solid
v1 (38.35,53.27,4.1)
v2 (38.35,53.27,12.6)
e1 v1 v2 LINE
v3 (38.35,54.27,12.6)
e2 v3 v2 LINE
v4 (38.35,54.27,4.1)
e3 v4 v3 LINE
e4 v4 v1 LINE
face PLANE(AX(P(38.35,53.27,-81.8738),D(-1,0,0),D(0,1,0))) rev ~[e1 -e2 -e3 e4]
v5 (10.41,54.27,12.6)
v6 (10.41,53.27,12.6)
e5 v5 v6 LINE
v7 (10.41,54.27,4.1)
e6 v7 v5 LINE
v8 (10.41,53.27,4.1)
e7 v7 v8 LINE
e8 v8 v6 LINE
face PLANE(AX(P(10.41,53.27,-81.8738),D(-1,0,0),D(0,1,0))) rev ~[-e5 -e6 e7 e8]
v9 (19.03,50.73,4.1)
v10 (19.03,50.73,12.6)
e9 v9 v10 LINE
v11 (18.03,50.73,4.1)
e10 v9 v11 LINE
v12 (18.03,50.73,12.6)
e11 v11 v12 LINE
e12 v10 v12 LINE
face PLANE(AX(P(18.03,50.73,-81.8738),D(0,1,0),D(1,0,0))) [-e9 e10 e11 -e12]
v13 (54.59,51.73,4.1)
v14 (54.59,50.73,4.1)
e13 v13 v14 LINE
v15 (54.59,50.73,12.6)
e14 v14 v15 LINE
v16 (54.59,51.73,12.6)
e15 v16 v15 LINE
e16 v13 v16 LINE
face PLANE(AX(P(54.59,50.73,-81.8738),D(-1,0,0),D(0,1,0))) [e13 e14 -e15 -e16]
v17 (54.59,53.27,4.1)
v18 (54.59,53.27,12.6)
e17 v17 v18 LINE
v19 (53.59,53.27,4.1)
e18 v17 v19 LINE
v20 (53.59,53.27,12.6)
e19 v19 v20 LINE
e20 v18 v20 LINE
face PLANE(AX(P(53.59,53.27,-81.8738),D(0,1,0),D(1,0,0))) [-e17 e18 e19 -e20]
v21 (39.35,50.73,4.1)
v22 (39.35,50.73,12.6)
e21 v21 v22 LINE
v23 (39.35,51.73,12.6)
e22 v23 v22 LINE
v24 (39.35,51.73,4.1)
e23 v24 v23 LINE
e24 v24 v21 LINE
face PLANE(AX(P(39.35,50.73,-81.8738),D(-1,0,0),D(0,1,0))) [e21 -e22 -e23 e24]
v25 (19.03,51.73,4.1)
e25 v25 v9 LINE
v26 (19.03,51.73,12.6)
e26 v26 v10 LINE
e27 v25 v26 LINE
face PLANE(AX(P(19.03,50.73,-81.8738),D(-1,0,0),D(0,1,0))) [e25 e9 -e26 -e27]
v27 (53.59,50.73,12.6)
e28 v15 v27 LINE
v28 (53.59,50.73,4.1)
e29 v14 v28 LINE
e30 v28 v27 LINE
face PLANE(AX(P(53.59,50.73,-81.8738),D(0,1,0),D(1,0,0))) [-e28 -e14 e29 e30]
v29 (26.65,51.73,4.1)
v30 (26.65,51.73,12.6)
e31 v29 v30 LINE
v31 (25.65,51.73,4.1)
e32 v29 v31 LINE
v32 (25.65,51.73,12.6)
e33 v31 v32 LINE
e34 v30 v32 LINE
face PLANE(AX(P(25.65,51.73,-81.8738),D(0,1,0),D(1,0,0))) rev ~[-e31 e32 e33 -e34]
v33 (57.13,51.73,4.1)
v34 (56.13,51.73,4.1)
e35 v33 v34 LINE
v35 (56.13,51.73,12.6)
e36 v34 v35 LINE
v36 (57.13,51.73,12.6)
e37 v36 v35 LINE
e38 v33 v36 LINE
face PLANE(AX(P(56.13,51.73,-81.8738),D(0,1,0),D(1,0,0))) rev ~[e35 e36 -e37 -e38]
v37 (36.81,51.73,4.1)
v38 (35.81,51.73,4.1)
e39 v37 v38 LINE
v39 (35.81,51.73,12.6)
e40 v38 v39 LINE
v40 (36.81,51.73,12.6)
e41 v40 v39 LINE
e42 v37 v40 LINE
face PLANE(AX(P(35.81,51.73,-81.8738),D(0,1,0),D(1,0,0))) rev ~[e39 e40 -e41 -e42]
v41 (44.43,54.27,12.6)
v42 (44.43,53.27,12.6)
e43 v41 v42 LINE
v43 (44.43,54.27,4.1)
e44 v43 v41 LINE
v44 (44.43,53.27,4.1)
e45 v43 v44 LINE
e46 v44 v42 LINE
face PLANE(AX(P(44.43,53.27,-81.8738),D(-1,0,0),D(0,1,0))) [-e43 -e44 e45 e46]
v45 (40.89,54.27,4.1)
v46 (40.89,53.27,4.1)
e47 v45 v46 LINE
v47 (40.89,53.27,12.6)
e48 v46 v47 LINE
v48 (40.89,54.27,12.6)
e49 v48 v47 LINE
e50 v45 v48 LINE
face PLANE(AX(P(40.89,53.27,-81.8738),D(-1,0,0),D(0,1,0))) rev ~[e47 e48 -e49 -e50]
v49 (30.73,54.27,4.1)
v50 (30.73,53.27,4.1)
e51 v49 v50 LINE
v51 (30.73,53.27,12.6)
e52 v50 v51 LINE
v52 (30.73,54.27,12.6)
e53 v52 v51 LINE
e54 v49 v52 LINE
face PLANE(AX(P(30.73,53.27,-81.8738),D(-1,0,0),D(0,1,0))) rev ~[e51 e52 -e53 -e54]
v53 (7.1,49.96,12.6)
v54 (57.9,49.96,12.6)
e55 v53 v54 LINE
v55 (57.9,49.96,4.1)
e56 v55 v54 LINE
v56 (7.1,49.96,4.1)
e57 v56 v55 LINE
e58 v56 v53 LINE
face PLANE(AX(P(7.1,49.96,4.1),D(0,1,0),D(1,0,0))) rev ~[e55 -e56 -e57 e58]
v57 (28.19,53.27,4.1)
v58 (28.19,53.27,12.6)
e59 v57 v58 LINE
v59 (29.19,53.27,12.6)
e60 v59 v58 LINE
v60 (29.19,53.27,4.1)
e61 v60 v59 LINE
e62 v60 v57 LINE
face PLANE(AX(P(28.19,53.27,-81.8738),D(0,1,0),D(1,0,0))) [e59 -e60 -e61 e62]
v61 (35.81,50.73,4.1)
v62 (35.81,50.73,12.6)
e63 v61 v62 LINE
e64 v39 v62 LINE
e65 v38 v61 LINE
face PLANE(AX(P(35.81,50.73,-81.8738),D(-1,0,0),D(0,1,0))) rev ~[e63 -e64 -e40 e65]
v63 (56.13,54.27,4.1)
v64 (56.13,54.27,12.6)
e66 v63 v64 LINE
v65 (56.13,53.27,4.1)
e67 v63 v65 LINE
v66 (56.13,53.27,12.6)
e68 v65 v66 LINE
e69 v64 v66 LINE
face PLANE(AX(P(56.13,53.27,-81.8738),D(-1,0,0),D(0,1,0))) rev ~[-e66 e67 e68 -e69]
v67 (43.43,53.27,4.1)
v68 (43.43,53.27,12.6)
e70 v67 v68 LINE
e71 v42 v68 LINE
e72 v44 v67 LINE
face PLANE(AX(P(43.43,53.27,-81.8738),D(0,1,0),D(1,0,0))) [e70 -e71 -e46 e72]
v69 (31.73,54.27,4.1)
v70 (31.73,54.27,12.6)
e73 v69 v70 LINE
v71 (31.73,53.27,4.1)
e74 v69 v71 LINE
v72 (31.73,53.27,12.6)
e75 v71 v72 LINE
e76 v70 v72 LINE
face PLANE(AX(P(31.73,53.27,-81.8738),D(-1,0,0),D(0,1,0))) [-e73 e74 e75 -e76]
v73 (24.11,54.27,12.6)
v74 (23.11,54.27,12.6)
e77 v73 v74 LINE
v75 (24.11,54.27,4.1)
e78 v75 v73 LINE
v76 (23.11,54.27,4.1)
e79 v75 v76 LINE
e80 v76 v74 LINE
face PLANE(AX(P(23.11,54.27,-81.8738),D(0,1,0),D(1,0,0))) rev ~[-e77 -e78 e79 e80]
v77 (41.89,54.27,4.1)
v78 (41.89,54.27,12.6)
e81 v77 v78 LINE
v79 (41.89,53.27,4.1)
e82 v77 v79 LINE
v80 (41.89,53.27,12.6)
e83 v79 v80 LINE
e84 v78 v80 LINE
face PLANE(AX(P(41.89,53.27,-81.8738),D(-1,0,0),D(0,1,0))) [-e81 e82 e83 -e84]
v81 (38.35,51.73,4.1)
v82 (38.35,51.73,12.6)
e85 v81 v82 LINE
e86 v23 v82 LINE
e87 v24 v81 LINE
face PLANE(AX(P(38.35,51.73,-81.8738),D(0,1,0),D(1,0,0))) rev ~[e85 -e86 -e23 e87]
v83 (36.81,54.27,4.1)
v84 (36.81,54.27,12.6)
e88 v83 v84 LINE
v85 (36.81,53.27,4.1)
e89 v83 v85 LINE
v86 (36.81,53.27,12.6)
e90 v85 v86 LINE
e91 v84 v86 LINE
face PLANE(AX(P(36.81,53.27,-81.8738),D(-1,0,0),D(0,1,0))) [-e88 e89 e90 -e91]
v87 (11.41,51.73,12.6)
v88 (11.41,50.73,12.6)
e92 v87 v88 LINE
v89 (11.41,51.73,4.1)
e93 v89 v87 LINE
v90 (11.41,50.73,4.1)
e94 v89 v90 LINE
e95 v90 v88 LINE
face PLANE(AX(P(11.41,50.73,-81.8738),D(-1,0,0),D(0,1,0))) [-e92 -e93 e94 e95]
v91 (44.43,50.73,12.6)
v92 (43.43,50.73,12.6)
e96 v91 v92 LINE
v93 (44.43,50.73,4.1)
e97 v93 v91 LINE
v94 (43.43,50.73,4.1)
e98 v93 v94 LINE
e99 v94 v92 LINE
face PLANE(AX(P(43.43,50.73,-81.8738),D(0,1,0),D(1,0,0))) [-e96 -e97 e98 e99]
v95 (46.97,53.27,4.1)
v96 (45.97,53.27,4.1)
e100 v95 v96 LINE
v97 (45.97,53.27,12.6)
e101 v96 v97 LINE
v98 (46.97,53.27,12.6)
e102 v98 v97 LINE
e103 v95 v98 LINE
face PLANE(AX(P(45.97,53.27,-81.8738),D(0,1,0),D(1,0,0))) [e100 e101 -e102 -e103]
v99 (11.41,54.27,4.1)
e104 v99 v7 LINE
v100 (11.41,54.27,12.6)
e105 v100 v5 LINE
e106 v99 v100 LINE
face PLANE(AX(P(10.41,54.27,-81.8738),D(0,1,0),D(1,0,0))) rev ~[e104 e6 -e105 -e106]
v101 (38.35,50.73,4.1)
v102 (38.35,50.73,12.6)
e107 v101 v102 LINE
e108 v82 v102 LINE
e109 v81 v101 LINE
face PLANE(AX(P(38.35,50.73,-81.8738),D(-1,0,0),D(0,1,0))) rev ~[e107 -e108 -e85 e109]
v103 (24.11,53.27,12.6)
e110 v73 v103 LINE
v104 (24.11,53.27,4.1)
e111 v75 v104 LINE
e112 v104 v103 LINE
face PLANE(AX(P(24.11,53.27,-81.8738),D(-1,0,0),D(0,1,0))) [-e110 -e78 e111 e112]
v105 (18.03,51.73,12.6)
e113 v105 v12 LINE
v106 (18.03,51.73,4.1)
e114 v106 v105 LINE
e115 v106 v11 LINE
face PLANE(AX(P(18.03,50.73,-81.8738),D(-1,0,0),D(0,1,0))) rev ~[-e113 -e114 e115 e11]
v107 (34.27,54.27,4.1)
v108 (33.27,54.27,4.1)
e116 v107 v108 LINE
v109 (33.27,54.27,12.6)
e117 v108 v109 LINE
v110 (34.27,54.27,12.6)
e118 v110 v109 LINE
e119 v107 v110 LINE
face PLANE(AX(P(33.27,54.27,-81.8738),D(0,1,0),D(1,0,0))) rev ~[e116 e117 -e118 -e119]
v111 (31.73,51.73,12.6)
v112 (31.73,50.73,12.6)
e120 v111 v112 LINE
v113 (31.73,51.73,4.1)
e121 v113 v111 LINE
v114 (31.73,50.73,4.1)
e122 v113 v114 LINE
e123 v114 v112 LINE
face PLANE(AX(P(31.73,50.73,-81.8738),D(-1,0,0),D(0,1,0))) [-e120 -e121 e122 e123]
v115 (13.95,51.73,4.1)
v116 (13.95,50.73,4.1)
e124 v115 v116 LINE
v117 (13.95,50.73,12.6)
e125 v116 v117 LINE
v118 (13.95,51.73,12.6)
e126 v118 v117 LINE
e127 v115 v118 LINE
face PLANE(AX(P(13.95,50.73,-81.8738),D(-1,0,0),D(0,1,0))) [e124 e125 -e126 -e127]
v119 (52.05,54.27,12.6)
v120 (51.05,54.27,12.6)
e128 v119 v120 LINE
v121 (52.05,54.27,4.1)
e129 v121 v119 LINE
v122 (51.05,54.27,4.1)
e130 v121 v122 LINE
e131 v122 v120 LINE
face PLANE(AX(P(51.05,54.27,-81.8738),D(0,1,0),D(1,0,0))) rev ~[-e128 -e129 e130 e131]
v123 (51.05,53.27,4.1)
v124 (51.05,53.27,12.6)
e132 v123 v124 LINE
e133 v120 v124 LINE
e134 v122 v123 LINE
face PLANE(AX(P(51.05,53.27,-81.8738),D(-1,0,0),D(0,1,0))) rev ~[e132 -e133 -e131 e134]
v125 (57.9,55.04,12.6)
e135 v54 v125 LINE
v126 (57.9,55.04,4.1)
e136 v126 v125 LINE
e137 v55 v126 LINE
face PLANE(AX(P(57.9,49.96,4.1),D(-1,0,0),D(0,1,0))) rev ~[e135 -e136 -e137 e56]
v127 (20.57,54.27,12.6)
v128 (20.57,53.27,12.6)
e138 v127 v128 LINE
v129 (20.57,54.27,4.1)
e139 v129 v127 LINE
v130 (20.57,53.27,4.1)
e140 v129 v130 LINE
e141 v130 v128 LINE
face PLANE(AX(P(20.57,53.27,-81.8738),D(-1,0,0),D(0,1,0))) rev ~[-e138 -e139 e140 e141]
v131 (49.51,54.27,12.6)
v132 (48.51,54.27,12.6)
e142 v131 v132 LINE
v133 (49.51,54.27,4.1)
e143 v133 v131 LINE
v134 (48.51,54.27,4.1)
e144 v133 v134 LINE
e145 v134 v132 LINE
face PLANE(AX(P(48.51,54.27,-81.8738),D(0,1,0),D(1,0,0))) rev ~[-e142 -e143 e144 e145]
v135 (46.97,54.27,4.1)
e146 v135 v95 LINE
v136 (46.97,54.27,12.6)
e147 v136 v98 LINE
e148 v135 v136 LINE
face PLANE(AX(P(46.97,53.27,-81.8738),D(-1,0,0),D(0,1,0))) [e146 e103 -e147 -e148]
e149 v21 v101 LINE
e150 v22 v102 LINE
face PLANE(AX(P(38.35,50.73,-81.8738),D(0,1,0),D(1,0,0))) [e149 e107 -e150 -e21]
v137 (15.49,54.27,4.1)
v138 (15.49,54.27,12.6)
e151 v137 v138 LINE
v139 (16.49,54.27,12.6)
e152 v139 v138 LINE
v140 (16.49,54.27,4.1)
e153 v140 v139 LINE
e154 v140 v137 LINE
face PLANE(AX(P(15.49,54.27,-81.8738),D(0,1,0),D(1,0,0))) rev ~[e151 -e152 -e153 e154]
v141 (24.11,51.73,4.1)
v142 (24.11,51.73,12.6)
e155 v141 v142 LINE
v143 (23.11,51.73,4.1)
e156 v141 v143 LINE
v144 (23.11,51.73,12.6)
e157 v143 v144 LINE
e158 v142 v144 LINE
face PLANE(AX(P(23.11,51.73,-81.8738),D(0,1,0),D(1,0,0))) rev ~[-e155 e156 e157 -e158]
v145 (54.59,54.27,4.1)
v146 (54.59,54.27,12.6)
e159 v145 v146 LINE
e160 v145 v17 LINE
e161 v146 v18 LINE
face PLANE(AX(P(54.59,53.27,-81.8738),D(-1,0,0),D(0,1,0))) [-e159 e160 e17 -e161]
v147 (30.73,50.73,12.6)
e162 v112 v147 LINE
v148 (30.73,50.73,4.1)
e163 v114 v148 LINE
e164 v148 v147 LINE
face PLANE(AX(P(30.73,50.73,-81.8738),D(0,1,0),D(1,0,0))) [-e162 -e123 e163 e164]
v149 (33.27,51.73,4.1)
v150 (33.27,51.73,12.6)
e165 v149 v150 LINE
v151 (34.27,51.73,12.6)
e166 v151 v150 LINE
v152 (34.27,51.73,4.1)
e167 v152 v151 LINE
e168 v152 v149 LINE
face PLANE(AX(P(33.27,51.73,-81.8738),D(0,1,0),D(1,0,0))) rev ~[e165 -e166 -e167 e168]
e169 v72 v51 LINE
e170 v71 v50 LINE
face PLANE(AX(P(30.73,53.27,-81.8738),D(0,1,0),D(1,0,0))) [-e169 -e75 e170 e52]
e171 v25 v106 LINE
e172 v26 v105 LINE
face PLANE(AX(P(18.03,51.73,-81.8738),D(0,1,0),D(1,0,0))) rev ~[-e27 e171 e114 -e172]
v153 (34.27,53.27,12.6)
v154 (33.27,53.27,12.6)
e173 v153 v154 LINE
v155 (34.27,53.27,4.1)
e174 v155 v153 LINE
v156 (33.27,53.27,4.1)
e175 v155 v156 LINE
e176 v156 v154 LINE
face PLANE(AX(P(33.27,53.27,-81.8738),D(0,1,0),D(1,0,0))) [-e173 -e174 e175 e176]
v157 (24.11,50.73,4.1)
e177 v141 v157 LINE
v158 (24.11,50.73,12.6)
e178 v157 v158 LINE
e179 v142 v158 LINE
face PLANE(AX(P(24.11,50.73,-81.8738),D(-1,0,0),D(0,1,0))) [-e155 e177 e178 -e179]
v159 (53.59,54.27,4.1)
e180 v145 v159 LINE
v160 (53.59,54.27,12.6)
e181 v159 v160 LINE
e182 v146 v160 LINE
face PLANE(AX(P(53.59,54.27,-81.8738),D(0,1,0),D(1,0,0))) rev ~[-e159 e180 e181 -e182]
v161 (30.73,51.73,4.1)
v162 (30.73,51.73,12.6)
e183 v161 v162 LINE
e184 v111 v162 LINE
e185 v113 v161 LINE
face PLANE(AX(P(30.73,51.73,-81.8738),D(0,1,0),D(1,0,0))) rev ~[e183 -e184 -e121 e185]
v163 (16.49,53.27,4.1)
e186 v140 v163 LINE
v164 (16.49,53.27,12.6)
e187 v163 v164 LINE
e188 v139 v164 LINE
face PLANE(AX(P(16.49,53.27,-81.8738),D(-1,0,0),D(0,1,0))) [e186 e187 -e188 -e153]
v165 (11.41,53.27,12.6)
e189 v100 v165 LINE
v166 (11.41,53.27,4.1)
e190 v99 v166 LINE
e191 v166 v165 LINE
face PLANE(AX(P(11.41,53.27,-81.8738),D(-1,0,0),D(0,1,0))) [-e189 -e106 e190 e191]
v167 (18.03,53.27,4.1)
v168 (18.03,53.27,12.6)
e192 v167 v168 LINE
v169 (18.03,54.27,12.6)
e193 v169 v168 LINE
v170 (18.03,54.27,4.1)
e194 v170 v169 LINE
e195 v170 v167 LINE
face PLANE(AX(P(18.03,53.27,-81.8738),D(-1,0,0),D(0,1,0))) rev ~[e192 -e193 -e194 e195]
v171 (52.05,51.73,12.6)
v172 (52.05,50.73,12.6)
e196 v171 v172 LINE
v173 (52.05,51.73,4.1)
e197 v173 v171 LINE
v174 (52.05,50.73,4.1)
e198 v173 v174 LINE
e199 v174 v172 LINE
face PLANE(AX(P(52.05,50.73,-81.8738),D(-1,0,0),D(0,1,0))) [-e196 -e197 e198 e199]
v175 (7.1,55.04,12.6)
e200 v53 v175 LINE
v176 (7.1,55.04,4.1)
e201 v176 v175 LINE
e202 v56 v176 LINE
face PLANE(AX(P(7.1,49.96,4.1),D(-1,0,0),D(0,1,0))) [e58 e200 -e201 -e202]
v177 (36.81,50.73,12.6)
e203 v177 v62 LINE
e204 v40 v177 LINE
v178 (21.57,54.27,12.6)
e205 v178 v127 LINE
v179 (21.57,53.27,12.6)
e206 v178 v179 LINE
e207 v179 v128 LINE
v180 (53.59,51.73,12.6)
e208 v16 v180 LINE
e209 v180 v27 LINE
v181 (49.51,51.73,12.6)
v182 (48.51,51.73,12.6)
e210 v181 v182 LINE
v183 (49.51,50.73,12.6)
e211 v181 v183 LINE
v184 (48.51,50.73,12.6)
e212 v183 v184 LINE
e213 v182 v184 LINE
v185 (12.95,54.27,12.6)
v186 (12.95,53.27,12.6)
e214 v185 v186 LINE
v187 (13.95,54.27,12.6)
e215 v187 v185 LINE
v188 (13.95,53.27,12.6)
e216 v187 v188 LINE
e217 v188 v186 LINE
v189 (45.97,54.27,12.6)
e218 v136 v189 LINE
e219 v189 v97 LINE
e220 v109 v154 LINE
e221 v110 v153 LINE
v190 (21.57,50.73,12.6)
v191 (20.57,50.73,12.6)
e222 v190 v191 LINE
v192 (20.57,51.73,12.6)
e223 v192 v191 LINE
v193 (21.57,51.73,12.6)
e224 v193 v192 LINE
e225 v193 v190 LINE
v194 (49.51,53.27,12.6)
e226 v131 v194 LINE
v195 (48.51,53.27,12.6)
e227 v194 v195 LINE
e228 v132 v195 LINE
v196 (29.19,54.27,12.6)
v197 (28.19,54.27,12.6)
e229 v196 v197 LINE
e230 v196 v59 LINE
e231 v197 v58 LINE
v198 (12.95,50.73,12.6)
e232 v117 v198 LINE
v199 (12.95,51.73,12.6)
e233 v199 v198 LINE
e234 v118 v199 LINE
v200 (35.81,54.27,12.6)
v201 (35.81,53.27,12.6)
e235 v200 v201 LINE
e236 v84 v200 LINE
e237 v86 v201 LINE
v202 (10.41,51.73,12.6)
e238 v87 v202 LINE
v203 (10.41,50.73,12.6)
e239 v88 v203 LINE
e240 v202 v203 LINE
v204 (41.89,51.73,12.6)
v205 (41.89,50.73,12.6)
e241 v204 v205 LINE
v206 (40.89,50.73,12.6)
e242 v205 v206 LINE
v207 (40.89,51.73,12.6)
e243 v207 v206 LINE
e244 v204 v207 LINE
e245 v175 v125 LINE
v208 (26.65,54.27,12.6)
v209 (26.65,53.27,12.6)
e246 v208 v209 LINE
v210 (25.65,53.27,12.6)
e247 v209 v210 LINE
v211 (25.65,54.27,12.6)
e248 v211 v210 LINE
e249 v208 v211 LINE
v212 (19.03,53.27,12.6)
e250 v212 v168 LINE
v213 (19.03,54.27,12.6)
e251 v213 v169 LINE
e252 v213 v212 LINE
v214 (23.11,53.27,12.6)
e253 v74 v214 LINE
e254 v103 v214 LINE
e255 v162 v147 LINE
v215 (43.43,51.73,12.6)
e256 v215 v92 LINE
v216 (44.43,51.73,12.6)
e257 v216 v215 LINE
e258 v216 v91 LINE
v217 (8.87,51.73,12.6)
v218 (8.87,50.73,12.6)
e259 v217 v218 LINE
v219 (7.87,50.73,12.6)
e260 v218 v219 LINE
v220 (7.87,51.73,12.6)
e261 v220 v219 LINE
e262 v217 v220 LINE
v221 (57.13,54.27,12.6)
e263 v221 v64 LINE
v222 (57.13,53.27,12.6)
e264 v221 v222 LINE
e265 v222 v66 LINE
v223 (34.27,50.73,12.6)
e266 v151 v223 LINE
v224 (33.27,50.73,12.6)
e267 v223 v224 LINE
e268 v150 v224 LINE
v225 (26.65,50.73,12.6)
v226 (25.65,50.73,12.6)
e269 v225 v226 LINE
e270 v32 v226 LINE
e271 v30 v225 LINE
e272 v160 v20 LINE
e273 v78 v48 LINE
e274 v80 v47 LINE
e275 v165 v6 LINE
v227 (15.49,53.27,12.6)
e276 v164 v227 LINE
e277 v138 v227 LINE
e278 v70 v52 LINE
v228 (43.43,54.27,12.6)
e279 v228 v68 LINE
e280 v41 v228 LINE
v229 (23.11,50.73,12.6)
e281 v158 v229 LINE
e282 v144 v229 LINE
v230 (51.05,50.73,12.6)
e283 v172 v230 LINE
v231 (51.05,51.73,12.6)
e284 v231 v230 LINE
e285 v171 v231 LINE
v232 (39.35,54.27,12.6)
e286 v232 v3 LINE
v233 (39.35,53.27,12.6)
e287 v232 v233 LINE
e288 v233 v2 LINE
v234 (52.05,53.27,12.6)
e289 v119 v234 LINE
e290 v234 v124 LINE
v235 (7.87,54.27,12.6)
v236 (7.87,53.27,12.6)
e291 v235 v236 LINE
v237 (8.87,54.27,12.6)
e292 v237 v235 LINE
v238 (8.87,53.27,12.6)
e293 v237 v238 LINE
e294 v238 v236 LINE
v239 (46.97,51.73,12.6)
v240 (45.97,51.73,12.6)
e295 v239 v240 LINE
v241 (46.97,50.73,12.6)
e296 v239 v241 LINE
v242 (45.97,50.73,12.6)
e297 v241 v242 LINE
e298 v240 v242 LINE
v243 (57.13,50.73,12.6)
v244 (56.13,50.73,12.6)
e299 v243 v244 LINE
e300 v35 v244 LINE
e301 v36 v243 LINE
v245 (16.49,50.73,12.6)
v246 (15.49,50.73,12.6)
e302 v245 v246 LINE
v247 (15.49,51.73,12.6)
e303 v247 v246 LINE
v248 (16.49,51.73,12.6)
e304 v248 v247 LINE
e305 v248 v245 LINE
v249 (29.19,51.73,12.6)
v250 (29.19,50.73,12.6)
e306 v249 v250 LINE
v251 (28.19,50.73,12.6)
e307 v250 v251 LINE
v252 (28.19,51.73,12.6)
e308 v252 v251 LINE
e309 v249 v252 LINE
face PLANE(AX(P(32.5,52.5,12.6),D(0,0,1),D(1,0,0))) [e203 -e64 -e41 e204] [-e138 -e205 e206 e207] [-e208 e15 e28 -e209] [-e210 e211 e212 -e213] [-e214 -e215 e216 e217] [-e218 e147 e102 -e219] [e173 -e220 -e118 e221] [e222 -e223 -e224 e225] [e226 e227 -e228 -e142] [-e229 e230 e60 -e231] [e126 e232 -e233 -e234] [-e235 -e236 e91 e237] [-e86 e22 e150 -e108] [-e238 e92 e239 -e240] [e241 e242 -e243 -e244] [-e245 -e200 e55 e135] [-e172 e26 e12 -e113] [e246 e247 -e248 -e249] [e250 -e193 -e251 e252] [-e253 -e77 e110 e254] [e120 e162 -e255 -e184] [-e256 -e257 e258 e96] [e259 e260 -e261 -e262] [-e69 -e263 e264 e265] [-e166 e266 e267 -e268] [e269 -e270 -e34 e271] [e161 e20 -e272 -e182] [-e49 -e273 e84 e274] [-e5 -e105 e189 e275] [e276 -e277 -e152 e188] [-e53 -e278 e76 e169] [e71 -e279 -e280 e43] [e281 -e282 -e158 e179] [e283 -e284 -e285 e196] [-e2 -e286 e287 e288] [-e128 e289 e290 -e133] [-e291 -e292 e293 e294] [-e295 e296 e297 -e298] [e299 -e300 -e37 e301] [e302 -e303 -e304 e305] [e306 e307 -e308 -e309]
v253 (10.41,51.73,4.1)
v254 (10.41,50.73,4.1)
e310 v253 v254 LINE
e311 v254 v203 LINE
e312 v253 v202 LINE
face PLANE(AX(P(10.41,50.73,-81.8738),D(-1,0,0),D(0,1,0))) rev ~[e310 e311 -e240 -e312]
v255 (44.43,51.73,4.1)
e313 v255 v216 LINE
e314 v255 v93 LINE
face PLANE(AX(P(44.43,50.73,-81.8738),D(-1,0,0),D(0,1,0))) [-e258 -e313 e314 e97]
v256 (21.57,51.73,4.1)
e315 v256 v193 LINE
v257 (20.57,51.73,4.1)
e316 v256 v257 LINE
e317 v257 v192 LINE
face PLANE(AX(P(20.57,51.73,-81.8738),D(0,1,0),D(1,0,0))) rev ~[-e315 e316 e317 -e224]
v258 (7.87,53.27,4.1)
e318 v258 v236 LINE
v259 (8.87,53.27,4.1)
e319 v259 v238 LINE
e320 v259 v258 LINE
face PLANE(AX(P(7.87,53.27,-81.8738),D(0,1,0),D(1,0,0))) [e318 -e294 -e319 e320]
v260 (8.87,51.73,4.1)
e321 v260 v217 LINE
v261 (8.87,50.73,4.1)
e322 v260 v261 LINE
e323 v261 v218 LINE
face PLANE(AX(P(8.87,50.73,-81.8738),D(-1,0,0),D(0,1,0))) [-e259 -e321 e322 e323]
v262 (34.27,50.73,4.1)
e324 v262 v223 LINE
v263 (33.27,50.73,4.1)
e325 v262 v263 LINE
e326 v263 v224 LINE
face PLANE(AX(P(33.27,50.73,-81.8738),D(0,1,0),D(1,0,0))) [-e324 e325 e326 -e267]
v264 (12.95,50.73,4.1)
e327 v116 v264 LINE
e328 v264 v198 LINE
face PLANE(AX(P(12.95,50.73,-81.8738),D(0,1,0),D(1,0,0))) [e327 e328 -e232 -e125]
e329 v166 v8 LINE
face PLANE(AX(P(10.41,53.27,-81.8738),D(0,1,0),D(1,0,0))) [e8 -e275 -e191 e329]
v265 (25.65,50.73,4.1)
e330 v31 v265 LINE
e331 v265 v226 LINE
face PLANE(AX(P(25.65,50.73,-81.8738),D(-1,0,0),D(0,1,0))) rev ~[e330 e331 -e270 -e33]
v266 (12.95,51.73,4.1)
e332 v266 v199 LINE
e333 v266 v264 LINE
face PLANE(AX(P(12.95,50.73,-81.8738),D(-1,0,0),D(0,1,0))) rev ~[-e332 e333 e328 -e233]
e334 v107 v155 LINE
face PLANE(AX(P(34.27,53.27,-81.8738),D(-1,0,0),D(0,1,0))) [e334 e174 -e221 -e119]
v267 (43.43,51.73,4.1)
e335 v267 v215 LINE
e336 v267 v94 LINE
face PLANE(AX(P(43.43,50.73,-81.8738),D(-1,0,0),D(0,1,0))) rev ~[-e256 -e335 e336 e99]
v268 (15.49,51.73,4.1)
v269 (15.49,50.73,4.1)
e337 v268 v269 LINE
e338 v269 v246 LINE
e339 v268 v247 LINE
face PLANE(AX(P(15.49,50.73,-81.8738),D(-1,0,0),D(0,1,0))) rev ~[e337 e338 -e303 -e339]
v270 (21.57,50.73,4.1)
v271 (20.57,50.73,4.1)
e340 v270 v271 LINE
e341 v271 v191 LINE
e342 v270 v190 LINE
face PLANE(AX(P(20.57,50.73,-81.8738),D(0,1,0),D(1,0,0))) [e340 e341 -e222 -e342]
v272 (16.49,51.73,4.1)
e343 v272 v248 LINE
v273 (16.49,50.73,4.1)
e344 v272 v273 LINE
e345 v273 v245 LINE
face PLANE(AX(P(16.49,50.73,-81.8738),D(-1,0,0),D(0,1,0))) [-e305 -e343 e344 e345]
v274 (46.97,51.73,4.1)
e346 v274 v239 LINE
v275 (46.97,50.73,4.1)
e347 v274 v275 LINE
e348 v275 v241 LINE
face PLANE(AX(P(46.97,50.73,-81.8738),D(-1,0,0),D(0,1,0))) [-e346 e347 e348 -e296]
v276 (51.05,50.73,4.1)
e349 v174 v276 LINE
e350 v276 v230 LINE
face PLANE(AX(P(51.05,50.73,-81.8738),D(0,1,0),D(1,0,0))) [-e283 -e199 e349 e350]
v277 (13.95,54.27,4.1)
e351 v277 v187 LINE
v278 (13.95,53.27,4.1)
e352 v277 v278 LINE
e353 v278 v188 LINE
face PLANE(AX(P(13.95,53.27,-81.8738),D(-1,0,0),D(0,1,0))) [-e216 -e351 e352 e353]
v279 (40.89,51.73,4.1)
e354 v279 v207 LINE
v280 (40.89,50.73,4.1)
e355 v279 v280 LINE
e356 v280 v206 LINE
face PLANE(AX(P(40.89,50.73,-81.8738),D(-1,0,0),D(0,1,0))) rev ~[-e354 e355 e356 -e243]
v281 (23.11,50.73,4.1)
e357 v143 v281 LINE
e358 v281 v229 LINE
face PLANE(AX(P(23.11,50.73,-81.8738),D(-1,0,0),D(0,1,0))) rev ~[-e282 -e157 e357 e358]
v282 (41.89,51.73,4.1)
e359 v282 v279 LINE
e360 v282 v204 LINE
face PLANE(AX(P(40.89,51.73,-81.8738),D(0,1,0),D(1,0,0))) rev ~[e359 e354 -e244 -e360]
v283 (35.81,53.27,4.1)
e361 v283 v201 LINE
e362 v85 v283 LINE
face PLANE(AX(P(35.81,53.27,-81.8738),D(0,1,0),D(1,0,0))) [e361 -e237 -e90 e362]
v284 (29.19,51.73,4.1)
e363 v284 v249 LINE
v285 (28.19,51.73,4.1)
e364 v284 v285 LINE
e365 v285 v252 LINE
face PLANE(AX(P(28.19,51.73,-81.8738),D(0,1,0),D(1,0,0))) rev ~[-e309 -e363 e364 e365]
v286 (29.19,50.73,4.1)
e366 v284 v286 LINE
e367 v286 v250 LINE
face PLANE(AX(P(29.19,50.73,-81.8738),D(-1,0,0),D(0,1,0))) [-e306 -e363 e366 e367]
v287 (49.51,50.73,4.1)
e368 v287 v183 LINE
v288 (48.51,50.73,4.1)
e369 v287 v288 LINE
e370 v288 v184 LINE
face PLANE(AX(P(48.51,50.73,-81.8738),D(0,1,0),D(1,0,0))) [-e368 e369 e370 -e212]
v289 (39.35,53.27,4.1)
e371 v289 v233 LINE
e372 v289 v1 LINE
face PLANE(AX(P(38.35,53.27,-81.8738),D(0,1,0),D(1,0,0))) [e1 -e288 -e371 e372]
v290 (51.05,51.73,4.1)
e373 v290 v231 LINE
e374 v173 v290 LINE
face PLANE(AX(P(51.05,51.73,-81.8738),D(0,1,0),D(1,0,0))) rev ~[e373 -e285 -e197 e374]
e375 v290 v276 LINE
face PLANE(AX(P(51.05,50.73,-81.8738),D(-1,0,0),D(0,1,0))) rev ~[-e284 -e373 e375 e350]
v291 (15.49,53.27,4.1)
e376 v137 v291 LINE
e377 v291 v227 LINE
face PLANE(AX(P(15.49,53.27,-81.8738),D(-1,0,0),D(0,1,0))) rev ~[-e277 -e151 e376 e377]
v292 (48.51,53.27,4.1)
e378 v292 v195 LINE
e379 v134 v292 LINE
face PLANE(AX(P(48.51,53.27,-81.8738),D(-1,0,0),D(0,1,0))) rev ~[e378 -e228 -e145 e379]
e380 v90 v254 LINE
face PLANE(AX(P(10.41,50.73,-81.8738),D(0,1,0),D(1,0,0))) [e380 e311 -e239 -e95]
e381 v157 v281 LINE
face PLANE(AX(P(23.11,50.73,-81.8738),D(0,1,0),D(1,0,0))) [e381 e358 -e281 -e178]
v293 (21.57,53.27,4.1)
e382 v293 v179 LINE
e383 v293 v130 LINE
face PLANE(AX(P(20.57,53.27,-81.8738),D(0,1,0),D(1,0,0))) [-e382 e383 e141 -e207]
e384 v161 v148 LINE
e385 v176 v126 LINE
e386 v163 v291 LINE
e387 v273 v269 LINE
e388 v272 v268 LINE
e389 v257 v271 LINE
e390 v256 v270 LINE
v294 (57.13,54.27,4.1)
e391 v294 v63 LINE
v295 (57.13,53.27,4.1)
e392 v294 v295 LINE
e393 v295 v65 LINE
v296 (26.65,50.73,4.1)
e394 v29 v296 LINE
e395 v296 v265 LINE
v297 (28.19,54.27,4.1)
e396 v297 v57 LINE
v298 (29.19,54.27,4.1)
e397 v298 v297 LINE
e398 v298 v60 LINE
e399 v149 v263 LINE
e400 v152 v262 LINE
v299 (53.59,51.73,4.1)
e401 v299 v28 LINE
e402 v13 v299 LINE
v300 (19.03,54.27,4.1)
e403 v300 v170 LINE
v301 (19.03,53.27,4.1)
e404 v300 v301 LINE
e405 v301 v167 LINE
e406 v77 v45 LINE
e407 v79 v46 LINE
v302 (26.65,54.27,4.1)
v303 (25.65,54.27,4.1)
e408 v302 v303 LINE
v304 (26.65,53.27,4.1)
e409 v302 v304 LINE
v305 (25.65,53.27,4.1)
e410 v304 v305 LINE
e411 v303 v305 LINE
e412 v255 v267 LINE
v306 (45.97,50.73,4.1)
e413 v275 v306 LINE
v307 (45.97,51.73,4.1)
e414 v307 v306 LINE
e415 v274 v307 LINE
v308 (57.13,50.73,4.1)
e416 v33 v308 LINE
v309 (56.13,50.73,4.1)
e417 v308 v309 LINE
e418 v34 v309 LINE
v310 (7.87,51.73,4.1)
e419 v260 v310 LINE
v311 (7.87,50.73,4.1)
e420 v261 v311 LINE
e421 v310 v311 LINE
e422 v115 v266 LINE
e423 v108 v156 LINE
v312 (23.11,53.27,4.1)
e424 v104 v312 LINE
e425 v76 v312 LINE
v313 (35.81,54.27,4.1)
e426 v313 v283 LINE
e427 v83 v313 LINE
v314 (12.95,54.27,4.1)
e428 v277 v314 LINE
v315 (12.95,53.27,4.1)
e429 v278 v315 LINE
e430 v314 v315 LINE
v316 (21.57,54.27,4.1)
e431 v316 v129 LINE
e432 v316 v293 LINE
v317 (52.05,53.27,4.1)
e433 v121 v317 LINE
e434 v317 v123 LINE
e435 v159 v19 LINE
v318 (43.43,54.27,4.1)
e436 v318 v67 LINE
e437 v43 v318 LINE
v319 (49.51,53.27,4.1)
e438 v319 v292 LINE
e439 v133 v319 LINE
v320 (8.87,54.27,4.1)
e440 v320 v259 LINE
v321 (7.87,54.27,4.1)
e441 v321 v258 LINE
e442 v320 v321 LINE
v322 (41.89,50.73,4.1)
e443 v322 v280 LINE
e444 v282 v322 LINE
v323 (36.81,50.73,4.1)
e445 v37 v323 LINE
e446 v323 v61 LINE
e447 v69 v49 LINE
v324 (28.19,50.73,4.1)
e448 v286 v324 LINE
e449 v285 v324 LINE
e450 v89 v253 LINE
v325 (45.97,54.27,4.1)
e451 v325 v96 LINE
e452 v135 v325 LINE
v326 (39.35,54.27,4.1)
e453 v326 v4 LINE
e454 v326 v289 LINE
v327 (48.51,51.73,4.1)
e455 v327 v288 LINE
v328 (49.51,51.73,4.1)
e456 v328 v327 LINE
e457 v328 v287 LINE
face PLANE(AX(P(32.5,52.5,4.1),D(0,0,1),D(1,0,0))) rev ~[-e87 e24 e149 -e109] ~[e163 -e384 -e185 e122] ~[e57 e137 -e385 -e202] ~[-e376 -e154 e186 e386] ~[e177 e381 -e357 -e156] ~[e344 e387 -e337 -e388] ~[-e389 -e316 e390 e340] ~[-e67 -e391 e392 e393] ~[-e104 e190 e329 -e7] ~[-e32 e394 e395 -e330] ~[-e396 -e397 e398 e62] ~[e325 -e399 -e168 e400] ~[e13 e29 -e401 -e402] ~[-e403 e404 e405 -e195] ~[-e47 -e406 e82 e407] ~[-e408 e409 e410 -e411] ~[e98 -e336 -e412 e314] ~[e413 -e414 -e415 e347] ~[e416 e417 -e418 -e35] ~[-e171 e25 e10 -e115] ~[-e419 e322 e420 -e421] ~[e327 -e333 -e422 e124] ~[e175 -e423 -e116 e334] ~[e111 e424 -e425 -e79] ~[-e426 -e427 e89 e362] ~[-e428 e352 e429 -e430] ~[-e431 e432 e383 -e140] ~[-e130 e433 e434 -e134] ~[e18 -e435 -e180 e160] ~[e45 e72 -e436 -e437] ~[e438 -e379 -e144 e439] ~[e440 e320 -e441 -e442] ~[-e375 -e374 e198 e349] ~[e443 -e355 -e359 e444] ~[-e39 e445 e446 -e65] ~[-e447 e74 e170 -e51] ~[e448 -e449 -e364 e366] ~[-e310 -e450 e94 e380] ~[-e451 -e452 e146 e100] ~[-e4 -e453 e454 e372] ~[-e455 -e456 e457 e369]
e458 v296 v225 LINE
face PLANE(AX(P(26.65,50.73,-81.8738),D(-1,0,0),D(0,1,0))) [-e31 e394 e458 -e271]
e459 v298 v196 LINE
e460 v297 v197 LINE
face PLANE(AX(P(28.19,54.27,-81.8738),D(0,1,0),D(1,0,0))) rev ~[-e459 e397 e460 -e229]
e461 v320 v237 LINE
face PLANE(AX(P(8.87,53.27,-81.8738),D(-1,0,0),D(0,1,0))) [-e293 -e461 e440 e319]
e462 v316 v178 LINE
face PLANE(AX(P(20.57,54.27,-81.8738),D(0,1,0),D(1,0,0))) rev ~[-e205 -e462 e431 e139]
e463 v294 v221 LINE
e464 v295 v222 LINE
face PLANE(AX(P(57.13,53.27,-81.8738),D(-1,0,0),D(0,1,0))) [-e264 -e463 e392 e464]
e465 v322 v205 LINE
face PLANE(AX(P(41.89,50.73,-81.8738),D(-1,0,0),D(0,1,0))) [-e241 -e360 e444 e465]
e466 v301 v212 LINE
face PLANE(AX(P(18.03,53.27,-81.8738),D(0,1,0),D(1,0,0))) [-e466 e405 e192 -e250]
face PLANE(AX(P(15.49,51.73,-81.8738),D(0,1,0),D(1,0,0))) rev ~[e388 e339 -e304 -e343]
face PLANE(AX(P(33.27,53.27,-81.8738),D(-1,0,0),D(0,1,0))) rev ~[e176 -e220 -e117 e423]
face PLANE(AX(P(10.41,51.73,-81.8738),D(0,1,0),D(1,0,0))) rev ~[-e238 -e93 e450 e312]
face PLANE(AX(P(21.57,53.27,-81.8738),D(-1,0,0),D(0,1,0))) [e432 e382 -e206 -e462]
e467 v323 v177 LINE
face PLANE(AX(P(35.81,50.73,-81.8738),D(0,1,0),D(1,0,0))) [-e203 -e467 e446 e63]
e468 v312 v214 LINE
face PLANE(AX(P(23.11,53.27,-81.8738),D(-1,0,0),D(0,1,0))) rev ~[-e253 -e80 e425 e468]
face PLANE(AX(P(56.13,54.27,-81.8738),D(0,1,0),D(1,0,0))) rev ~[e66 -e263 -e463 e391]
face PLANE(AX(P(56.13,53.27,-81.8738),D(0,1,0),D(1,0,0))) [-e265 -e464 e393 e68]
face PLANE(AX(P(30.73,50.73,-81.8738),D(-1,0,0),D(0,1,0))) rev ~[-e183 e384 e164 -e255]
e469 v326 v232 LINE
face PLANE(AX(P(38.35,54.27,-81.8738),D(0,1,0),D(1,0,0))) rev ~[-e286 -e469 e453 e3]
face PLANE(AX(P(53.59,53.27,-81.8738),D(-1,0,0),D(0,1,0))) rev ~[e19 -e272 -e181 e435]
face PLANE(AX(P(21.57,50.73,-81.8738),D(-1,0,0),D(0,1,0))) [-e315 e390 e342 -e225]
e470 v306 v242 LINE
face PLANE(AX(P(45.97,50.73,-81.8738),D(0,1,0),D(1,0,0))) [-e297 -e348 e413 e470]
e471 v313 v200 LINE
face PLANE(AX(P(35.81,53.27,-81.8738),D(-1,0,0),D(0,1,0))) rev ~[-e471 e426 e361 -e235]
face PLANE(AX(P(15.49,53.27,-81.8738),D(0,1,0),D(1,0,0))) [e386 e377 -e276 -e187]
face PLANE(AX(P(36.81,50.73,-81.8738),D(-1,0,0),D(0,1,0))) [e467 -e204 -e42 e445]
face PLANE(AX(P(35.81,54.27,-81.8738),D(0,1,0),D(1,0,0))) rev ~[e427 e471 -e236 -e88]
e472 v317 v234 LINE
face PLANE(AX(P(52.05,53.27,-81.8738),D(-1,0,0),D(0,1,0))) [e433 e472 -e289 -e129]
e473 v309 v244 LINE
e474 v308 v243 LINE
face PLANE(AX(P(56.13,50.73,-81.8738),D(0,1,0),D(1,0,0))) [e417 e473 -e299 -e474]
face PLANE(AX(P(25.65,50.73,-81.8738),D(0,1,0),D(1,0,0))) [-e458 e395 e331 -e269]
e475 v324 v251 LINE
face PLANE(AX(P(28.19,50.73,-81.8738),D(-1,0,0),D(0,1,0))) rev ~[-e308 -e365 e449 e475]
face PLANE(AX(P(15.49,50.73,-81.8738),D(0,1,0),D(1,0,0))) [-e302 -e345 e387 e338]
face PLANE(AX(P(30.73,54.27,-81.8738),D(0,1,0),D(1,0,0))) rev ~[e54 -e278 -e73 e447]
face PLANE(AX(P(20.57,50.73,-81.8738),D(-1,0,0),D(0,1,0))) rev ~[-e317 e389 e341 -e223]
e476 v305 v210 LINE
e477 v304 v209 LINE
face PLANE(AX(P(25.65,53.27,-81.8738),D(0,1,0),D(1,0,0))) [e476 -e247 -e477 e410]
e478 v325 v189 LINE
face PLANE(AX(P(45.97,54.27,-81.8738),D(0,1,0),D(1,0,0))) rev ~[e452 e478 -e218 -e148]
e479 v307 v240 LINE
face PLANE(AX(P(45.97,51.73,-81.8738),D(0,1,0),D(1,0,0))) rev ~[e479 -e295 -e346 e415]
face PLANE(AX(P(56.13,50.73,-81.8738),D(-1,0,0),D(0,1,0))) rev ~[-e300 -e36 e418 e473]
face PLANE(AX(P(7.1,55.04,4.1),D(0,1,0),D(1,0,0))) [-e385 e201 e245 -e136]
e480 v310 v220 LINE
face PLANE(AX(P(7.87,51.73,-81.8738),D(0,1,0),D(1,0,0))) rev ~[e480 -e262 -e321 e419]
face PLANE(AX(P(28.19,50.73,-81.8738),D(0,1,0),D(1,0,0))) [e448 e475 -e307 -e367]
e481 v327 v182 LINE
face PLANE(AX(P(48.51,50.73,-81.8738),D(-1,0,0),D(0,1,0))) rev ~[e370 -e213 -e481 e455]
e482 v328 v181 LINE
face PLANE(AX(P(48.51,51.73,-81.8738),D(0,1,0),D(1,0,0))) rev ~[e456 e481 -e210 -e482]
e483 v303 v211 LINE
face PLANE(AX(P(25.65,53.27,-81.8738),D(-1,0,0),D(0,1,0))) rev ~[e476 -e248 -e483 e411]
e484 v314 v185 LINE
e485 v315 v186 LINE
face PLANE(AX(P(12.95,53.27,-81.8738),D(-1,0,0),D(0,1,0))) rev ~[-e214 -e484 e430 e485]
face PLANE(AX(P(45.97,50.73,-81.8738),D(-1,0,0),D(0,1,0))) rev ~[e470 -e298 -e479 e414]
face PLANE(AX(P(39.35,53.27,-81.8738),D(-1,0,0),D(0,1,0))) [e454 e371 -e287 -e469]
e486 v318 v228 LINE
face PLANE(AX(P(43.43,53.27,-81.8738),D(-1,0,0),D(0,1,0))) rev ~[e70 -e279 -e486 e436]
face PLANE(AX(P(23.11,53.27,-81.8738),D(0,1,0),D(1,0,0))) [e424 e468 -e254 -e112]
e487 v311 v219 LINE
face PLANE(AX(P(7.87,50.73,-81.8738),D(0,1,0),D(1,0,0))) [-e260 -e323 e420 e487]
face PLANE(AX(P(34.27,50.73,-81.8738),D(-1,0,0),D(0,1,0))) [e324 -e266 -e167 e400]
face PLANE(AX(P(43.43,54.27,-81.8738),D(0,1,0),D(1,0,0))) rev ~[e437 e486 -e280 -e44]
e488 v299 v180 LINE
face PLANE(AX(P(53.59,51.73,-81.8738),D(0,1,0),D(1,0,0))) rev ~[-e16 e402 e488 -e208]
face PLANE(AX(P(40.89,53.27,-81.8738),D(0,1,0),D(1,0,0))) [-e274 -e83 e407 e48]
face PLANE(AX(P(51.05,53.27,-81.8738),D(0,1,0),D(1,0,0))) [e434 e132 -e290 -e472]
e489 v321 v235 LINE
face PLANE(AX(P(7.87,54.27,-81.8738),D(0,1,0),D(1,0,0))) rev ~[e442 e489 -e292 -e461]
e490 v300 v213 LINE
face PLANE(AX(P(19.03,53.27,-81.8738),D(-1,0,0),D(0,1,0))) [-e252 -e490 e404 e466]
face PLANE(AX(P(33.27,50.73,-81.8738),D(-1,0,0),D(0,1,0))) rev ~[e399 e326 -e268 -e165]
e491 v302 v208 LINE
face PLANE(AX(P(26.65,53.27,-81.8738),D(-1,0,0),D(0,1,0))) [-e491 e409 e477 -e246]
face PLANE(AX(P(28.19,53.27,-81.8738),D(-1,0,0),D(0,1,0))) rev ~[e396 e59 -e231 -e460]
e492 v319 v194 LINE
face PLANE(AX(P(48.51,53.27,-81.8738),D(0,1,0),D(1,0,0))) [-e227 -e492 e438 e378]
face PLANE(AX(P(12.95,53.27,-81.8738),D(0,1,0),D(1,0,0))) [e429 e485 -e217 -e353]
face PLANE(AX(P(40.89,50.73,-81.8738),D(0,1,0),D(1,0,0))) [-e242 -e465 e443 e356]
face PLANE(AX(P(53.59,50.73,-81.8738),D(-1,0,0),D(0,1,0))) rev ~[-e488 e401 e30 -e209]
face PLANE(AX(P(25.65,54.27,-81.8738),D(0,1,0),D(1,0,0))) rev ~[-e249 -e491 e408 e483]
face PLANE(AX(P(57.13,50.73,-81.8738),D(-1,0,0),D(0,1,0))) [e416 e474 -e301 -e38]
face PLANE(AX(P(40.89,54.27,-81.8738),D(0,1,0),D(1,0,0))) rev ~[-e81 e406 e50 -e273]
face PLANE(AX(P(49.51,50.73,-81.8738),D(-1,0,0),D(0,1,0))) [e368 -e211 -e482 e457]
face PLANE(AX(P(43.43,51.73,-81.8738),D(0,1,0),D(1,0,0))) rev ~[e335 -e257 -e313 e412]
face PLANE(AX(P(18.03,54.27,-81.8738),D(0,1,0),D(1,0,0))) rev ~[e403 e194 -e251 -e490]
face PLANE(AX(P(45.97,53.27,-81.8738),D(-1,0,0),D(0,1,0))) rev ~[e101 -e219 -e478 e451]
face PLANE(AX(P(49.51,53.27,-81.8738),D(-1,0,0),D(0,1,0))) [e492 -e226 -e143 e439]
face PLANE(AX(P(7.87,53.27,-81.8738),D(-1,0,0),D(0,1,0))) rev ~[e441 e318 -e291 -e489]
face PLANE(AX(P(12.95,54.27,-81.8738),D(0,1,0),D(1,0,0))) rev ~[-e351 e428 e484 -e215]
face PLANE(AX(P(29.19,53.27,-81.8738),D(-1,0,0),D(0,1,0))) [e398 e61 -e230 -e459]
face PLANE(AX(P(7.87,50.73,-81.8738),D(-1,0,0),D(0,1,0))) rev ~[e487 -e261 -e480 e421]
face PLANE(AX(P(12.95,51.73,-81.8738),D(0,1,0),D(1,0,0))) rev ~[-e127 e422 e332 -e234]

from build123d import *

# Parameters (mm, degrees)
SKETCH1_W               = 50.8
SKETCH1_H               = 5.08
SOCKET_BODY_DEPTH       = 8.5
SOCKET_HOLES_DEPTH      = 81.873800455
SOCKET_HOLES_DEPTH_BACK = 81.873800455
SKETCH2_W               = 1
SKETCH2_H               = 1


with BuildPart() as part:
    # Sketch1 → Socket_Body (new body)
    with BuildSketch(Plane.XY.offset(4.1)):
        with Locations((32.5, 52.5)):
            Rectangle(SKETCH1_W, SKETCH1_H)
    extrude(amount=SOCKET_BODY_DEPTH)

    # Sketch2 → Socket_Holes (cut, two sides: drawn at the far end of the back side and taken through both)
    with BuildSketch(Plane.XY.offset(-SOCKET_HOLES_DEPTH_BACK)):
        with Locations((8.37, 51.23)):
            Rectangle(SKETCH2_W, SKETCH2_H)
        with Locations((8.37, 53.77)):
            Rectangle(SKETCH2_W, SKETCH2_H)
        with Locations((10.91, 51.23)):
            Rectangle(SKETCH2_W, SKETCH2_H)
        with Locations((10.91, 53.77)):
            Rectangle(SKETCH2_W, SKETCH2_H)
        with Locations((13.45, 51.23)):
            Rectangle(SKETCH2_W, SKETCH2_H)
        with Locations((13.45, 53.77)):
            Rectangle(SKETCH2_W, SKETCH2_H)
        with Locations((15.99, 51.23)):
            Rectangle(SKETCH2_W, SKETCH2_H)
        with Locations((15.99, 53.77)):
            Rectangle(SKETCH2_W, SKETCH2_H)
        with Locations((18.53, 51.23)):
            Rectangle(SKETCH2_W, SKETCH2_H)
        with Locations((18.53, 53.77)):
            Rectangle(SKETCH2_W, SKETCH2_H)
        with Locations((21.07, 51.23)):
            Rectangle(SKETCH2_W, SKETCH2_H)
        with Locations((21.07, 53.77)):
            Rectangle(SKETCH2_W, SKETCH2_H)
        with Locations((23.61, 51.23)):
            Rectangle(SKETCH2_W, SKETCH2_H)
        with Locations((23.61, 53.77)):
            Rectangle(SKETCH2_W, SKETCH2_H)
        with Locations((26.15, 51.23)):
            Rectangle(SKETCH2_W, SKETCH2_H)
        with Locations((26.15, 53.77)):
            Rectangle(SKETCH2_W, SKETCH2_H)
        with Locations((28.69, 51.23)):
            Rectangle(SKETCH2_W, SKETCH2_H)
        with Locations((28.69, 53.77)):
            Rectangle(SKETCH2_W, SKETCH2_H)
        with Locations((31.23, 51.23)):
            Rectangle(SKETCH2_W, SKETCH2_H)
        with Locations((31.23, 53.77)):
            Rectangle(SKETCH2_W, SKETCH2_H)
        with Locations((33.77, 51.23)):
            Rectangle(SKETCH2_W, SKETCH2_H)
        with Locations((33.77, 53.77)):
            Rectangle(SKETCH2_W, SKETCH2_H)
        with Locations((36.31, 51.23)):
            Rectangle(SKETCH2_W, SKETCH2_H)
        with Locations((36.31, 53.77)):
            Rectangle(SKETCH2_W, SKETCH2_H)
        with Locations((38.85, 51.23)):
            Rectangle(SKETCH2_W, SKETCH2_H)
        with Locations((38.85, 53.77)):
            Rectangle(SKETCH2_W, SKETCH2_H)
        with Locations((41.39, 51.23)):
            Rectangle(SKETCH2_W, SKETCH2_H)
        with Locations((41.39, 53.77)):
            Rectangle(SKETCH2_W, SKETCH2_H)
        with Locations((43.93, 51.23)):
            Rectangle(SKETCH2_W, SKETCH2_H)
        with Locations((43.93, 53.77)):
            Rectangle(SKETCH2_W, SKETCH2_H)
        with Locations((46.47, 51.23)):
            Rectangle(SKETCH2_W, SKETCH2_H)
        with Locations((46.47, 53.77)):
            Rectangle(SKETCH2_W, SKETCH2_H)
        with Locations((49.01, 51.23)):
            Rectangle(SKETCH2_W, SKETCH2_H)
        with Locations((49.01, 53.77)):
            Rectangle(SKETCH2_W, SKETCH2_H)
        with Locations((51.55, 51.23)):
            Rectangle(SKETCH2_W, SKETCH2_H)
        with Locations((51.55, 53.77)):
            Rectangle(SKETCH2_W, SKETCH2_H)
        with Locations((54.09, 51.23)):
            Rectangle(SKETCH2_W, SKETCH2_H)
        with Locations((54.09, 53.77)):
            Rectangle(SKETCH2_W, SKETCH2_H)
        with Locations((56.63, 51.23)):
            Rectangle(SKETCH2_W, SKETCH2_H)
        with Locations((56.63, 53.77)):
            Rectangle(SKETCH2_W, SKETCH2_H)
    extrude(amount=SOCKET_HOLES_DEPTH + SOCKET_HOLES_DEPTH_BACK, mode=Mode.SUBTRACT)


solid = part.part
